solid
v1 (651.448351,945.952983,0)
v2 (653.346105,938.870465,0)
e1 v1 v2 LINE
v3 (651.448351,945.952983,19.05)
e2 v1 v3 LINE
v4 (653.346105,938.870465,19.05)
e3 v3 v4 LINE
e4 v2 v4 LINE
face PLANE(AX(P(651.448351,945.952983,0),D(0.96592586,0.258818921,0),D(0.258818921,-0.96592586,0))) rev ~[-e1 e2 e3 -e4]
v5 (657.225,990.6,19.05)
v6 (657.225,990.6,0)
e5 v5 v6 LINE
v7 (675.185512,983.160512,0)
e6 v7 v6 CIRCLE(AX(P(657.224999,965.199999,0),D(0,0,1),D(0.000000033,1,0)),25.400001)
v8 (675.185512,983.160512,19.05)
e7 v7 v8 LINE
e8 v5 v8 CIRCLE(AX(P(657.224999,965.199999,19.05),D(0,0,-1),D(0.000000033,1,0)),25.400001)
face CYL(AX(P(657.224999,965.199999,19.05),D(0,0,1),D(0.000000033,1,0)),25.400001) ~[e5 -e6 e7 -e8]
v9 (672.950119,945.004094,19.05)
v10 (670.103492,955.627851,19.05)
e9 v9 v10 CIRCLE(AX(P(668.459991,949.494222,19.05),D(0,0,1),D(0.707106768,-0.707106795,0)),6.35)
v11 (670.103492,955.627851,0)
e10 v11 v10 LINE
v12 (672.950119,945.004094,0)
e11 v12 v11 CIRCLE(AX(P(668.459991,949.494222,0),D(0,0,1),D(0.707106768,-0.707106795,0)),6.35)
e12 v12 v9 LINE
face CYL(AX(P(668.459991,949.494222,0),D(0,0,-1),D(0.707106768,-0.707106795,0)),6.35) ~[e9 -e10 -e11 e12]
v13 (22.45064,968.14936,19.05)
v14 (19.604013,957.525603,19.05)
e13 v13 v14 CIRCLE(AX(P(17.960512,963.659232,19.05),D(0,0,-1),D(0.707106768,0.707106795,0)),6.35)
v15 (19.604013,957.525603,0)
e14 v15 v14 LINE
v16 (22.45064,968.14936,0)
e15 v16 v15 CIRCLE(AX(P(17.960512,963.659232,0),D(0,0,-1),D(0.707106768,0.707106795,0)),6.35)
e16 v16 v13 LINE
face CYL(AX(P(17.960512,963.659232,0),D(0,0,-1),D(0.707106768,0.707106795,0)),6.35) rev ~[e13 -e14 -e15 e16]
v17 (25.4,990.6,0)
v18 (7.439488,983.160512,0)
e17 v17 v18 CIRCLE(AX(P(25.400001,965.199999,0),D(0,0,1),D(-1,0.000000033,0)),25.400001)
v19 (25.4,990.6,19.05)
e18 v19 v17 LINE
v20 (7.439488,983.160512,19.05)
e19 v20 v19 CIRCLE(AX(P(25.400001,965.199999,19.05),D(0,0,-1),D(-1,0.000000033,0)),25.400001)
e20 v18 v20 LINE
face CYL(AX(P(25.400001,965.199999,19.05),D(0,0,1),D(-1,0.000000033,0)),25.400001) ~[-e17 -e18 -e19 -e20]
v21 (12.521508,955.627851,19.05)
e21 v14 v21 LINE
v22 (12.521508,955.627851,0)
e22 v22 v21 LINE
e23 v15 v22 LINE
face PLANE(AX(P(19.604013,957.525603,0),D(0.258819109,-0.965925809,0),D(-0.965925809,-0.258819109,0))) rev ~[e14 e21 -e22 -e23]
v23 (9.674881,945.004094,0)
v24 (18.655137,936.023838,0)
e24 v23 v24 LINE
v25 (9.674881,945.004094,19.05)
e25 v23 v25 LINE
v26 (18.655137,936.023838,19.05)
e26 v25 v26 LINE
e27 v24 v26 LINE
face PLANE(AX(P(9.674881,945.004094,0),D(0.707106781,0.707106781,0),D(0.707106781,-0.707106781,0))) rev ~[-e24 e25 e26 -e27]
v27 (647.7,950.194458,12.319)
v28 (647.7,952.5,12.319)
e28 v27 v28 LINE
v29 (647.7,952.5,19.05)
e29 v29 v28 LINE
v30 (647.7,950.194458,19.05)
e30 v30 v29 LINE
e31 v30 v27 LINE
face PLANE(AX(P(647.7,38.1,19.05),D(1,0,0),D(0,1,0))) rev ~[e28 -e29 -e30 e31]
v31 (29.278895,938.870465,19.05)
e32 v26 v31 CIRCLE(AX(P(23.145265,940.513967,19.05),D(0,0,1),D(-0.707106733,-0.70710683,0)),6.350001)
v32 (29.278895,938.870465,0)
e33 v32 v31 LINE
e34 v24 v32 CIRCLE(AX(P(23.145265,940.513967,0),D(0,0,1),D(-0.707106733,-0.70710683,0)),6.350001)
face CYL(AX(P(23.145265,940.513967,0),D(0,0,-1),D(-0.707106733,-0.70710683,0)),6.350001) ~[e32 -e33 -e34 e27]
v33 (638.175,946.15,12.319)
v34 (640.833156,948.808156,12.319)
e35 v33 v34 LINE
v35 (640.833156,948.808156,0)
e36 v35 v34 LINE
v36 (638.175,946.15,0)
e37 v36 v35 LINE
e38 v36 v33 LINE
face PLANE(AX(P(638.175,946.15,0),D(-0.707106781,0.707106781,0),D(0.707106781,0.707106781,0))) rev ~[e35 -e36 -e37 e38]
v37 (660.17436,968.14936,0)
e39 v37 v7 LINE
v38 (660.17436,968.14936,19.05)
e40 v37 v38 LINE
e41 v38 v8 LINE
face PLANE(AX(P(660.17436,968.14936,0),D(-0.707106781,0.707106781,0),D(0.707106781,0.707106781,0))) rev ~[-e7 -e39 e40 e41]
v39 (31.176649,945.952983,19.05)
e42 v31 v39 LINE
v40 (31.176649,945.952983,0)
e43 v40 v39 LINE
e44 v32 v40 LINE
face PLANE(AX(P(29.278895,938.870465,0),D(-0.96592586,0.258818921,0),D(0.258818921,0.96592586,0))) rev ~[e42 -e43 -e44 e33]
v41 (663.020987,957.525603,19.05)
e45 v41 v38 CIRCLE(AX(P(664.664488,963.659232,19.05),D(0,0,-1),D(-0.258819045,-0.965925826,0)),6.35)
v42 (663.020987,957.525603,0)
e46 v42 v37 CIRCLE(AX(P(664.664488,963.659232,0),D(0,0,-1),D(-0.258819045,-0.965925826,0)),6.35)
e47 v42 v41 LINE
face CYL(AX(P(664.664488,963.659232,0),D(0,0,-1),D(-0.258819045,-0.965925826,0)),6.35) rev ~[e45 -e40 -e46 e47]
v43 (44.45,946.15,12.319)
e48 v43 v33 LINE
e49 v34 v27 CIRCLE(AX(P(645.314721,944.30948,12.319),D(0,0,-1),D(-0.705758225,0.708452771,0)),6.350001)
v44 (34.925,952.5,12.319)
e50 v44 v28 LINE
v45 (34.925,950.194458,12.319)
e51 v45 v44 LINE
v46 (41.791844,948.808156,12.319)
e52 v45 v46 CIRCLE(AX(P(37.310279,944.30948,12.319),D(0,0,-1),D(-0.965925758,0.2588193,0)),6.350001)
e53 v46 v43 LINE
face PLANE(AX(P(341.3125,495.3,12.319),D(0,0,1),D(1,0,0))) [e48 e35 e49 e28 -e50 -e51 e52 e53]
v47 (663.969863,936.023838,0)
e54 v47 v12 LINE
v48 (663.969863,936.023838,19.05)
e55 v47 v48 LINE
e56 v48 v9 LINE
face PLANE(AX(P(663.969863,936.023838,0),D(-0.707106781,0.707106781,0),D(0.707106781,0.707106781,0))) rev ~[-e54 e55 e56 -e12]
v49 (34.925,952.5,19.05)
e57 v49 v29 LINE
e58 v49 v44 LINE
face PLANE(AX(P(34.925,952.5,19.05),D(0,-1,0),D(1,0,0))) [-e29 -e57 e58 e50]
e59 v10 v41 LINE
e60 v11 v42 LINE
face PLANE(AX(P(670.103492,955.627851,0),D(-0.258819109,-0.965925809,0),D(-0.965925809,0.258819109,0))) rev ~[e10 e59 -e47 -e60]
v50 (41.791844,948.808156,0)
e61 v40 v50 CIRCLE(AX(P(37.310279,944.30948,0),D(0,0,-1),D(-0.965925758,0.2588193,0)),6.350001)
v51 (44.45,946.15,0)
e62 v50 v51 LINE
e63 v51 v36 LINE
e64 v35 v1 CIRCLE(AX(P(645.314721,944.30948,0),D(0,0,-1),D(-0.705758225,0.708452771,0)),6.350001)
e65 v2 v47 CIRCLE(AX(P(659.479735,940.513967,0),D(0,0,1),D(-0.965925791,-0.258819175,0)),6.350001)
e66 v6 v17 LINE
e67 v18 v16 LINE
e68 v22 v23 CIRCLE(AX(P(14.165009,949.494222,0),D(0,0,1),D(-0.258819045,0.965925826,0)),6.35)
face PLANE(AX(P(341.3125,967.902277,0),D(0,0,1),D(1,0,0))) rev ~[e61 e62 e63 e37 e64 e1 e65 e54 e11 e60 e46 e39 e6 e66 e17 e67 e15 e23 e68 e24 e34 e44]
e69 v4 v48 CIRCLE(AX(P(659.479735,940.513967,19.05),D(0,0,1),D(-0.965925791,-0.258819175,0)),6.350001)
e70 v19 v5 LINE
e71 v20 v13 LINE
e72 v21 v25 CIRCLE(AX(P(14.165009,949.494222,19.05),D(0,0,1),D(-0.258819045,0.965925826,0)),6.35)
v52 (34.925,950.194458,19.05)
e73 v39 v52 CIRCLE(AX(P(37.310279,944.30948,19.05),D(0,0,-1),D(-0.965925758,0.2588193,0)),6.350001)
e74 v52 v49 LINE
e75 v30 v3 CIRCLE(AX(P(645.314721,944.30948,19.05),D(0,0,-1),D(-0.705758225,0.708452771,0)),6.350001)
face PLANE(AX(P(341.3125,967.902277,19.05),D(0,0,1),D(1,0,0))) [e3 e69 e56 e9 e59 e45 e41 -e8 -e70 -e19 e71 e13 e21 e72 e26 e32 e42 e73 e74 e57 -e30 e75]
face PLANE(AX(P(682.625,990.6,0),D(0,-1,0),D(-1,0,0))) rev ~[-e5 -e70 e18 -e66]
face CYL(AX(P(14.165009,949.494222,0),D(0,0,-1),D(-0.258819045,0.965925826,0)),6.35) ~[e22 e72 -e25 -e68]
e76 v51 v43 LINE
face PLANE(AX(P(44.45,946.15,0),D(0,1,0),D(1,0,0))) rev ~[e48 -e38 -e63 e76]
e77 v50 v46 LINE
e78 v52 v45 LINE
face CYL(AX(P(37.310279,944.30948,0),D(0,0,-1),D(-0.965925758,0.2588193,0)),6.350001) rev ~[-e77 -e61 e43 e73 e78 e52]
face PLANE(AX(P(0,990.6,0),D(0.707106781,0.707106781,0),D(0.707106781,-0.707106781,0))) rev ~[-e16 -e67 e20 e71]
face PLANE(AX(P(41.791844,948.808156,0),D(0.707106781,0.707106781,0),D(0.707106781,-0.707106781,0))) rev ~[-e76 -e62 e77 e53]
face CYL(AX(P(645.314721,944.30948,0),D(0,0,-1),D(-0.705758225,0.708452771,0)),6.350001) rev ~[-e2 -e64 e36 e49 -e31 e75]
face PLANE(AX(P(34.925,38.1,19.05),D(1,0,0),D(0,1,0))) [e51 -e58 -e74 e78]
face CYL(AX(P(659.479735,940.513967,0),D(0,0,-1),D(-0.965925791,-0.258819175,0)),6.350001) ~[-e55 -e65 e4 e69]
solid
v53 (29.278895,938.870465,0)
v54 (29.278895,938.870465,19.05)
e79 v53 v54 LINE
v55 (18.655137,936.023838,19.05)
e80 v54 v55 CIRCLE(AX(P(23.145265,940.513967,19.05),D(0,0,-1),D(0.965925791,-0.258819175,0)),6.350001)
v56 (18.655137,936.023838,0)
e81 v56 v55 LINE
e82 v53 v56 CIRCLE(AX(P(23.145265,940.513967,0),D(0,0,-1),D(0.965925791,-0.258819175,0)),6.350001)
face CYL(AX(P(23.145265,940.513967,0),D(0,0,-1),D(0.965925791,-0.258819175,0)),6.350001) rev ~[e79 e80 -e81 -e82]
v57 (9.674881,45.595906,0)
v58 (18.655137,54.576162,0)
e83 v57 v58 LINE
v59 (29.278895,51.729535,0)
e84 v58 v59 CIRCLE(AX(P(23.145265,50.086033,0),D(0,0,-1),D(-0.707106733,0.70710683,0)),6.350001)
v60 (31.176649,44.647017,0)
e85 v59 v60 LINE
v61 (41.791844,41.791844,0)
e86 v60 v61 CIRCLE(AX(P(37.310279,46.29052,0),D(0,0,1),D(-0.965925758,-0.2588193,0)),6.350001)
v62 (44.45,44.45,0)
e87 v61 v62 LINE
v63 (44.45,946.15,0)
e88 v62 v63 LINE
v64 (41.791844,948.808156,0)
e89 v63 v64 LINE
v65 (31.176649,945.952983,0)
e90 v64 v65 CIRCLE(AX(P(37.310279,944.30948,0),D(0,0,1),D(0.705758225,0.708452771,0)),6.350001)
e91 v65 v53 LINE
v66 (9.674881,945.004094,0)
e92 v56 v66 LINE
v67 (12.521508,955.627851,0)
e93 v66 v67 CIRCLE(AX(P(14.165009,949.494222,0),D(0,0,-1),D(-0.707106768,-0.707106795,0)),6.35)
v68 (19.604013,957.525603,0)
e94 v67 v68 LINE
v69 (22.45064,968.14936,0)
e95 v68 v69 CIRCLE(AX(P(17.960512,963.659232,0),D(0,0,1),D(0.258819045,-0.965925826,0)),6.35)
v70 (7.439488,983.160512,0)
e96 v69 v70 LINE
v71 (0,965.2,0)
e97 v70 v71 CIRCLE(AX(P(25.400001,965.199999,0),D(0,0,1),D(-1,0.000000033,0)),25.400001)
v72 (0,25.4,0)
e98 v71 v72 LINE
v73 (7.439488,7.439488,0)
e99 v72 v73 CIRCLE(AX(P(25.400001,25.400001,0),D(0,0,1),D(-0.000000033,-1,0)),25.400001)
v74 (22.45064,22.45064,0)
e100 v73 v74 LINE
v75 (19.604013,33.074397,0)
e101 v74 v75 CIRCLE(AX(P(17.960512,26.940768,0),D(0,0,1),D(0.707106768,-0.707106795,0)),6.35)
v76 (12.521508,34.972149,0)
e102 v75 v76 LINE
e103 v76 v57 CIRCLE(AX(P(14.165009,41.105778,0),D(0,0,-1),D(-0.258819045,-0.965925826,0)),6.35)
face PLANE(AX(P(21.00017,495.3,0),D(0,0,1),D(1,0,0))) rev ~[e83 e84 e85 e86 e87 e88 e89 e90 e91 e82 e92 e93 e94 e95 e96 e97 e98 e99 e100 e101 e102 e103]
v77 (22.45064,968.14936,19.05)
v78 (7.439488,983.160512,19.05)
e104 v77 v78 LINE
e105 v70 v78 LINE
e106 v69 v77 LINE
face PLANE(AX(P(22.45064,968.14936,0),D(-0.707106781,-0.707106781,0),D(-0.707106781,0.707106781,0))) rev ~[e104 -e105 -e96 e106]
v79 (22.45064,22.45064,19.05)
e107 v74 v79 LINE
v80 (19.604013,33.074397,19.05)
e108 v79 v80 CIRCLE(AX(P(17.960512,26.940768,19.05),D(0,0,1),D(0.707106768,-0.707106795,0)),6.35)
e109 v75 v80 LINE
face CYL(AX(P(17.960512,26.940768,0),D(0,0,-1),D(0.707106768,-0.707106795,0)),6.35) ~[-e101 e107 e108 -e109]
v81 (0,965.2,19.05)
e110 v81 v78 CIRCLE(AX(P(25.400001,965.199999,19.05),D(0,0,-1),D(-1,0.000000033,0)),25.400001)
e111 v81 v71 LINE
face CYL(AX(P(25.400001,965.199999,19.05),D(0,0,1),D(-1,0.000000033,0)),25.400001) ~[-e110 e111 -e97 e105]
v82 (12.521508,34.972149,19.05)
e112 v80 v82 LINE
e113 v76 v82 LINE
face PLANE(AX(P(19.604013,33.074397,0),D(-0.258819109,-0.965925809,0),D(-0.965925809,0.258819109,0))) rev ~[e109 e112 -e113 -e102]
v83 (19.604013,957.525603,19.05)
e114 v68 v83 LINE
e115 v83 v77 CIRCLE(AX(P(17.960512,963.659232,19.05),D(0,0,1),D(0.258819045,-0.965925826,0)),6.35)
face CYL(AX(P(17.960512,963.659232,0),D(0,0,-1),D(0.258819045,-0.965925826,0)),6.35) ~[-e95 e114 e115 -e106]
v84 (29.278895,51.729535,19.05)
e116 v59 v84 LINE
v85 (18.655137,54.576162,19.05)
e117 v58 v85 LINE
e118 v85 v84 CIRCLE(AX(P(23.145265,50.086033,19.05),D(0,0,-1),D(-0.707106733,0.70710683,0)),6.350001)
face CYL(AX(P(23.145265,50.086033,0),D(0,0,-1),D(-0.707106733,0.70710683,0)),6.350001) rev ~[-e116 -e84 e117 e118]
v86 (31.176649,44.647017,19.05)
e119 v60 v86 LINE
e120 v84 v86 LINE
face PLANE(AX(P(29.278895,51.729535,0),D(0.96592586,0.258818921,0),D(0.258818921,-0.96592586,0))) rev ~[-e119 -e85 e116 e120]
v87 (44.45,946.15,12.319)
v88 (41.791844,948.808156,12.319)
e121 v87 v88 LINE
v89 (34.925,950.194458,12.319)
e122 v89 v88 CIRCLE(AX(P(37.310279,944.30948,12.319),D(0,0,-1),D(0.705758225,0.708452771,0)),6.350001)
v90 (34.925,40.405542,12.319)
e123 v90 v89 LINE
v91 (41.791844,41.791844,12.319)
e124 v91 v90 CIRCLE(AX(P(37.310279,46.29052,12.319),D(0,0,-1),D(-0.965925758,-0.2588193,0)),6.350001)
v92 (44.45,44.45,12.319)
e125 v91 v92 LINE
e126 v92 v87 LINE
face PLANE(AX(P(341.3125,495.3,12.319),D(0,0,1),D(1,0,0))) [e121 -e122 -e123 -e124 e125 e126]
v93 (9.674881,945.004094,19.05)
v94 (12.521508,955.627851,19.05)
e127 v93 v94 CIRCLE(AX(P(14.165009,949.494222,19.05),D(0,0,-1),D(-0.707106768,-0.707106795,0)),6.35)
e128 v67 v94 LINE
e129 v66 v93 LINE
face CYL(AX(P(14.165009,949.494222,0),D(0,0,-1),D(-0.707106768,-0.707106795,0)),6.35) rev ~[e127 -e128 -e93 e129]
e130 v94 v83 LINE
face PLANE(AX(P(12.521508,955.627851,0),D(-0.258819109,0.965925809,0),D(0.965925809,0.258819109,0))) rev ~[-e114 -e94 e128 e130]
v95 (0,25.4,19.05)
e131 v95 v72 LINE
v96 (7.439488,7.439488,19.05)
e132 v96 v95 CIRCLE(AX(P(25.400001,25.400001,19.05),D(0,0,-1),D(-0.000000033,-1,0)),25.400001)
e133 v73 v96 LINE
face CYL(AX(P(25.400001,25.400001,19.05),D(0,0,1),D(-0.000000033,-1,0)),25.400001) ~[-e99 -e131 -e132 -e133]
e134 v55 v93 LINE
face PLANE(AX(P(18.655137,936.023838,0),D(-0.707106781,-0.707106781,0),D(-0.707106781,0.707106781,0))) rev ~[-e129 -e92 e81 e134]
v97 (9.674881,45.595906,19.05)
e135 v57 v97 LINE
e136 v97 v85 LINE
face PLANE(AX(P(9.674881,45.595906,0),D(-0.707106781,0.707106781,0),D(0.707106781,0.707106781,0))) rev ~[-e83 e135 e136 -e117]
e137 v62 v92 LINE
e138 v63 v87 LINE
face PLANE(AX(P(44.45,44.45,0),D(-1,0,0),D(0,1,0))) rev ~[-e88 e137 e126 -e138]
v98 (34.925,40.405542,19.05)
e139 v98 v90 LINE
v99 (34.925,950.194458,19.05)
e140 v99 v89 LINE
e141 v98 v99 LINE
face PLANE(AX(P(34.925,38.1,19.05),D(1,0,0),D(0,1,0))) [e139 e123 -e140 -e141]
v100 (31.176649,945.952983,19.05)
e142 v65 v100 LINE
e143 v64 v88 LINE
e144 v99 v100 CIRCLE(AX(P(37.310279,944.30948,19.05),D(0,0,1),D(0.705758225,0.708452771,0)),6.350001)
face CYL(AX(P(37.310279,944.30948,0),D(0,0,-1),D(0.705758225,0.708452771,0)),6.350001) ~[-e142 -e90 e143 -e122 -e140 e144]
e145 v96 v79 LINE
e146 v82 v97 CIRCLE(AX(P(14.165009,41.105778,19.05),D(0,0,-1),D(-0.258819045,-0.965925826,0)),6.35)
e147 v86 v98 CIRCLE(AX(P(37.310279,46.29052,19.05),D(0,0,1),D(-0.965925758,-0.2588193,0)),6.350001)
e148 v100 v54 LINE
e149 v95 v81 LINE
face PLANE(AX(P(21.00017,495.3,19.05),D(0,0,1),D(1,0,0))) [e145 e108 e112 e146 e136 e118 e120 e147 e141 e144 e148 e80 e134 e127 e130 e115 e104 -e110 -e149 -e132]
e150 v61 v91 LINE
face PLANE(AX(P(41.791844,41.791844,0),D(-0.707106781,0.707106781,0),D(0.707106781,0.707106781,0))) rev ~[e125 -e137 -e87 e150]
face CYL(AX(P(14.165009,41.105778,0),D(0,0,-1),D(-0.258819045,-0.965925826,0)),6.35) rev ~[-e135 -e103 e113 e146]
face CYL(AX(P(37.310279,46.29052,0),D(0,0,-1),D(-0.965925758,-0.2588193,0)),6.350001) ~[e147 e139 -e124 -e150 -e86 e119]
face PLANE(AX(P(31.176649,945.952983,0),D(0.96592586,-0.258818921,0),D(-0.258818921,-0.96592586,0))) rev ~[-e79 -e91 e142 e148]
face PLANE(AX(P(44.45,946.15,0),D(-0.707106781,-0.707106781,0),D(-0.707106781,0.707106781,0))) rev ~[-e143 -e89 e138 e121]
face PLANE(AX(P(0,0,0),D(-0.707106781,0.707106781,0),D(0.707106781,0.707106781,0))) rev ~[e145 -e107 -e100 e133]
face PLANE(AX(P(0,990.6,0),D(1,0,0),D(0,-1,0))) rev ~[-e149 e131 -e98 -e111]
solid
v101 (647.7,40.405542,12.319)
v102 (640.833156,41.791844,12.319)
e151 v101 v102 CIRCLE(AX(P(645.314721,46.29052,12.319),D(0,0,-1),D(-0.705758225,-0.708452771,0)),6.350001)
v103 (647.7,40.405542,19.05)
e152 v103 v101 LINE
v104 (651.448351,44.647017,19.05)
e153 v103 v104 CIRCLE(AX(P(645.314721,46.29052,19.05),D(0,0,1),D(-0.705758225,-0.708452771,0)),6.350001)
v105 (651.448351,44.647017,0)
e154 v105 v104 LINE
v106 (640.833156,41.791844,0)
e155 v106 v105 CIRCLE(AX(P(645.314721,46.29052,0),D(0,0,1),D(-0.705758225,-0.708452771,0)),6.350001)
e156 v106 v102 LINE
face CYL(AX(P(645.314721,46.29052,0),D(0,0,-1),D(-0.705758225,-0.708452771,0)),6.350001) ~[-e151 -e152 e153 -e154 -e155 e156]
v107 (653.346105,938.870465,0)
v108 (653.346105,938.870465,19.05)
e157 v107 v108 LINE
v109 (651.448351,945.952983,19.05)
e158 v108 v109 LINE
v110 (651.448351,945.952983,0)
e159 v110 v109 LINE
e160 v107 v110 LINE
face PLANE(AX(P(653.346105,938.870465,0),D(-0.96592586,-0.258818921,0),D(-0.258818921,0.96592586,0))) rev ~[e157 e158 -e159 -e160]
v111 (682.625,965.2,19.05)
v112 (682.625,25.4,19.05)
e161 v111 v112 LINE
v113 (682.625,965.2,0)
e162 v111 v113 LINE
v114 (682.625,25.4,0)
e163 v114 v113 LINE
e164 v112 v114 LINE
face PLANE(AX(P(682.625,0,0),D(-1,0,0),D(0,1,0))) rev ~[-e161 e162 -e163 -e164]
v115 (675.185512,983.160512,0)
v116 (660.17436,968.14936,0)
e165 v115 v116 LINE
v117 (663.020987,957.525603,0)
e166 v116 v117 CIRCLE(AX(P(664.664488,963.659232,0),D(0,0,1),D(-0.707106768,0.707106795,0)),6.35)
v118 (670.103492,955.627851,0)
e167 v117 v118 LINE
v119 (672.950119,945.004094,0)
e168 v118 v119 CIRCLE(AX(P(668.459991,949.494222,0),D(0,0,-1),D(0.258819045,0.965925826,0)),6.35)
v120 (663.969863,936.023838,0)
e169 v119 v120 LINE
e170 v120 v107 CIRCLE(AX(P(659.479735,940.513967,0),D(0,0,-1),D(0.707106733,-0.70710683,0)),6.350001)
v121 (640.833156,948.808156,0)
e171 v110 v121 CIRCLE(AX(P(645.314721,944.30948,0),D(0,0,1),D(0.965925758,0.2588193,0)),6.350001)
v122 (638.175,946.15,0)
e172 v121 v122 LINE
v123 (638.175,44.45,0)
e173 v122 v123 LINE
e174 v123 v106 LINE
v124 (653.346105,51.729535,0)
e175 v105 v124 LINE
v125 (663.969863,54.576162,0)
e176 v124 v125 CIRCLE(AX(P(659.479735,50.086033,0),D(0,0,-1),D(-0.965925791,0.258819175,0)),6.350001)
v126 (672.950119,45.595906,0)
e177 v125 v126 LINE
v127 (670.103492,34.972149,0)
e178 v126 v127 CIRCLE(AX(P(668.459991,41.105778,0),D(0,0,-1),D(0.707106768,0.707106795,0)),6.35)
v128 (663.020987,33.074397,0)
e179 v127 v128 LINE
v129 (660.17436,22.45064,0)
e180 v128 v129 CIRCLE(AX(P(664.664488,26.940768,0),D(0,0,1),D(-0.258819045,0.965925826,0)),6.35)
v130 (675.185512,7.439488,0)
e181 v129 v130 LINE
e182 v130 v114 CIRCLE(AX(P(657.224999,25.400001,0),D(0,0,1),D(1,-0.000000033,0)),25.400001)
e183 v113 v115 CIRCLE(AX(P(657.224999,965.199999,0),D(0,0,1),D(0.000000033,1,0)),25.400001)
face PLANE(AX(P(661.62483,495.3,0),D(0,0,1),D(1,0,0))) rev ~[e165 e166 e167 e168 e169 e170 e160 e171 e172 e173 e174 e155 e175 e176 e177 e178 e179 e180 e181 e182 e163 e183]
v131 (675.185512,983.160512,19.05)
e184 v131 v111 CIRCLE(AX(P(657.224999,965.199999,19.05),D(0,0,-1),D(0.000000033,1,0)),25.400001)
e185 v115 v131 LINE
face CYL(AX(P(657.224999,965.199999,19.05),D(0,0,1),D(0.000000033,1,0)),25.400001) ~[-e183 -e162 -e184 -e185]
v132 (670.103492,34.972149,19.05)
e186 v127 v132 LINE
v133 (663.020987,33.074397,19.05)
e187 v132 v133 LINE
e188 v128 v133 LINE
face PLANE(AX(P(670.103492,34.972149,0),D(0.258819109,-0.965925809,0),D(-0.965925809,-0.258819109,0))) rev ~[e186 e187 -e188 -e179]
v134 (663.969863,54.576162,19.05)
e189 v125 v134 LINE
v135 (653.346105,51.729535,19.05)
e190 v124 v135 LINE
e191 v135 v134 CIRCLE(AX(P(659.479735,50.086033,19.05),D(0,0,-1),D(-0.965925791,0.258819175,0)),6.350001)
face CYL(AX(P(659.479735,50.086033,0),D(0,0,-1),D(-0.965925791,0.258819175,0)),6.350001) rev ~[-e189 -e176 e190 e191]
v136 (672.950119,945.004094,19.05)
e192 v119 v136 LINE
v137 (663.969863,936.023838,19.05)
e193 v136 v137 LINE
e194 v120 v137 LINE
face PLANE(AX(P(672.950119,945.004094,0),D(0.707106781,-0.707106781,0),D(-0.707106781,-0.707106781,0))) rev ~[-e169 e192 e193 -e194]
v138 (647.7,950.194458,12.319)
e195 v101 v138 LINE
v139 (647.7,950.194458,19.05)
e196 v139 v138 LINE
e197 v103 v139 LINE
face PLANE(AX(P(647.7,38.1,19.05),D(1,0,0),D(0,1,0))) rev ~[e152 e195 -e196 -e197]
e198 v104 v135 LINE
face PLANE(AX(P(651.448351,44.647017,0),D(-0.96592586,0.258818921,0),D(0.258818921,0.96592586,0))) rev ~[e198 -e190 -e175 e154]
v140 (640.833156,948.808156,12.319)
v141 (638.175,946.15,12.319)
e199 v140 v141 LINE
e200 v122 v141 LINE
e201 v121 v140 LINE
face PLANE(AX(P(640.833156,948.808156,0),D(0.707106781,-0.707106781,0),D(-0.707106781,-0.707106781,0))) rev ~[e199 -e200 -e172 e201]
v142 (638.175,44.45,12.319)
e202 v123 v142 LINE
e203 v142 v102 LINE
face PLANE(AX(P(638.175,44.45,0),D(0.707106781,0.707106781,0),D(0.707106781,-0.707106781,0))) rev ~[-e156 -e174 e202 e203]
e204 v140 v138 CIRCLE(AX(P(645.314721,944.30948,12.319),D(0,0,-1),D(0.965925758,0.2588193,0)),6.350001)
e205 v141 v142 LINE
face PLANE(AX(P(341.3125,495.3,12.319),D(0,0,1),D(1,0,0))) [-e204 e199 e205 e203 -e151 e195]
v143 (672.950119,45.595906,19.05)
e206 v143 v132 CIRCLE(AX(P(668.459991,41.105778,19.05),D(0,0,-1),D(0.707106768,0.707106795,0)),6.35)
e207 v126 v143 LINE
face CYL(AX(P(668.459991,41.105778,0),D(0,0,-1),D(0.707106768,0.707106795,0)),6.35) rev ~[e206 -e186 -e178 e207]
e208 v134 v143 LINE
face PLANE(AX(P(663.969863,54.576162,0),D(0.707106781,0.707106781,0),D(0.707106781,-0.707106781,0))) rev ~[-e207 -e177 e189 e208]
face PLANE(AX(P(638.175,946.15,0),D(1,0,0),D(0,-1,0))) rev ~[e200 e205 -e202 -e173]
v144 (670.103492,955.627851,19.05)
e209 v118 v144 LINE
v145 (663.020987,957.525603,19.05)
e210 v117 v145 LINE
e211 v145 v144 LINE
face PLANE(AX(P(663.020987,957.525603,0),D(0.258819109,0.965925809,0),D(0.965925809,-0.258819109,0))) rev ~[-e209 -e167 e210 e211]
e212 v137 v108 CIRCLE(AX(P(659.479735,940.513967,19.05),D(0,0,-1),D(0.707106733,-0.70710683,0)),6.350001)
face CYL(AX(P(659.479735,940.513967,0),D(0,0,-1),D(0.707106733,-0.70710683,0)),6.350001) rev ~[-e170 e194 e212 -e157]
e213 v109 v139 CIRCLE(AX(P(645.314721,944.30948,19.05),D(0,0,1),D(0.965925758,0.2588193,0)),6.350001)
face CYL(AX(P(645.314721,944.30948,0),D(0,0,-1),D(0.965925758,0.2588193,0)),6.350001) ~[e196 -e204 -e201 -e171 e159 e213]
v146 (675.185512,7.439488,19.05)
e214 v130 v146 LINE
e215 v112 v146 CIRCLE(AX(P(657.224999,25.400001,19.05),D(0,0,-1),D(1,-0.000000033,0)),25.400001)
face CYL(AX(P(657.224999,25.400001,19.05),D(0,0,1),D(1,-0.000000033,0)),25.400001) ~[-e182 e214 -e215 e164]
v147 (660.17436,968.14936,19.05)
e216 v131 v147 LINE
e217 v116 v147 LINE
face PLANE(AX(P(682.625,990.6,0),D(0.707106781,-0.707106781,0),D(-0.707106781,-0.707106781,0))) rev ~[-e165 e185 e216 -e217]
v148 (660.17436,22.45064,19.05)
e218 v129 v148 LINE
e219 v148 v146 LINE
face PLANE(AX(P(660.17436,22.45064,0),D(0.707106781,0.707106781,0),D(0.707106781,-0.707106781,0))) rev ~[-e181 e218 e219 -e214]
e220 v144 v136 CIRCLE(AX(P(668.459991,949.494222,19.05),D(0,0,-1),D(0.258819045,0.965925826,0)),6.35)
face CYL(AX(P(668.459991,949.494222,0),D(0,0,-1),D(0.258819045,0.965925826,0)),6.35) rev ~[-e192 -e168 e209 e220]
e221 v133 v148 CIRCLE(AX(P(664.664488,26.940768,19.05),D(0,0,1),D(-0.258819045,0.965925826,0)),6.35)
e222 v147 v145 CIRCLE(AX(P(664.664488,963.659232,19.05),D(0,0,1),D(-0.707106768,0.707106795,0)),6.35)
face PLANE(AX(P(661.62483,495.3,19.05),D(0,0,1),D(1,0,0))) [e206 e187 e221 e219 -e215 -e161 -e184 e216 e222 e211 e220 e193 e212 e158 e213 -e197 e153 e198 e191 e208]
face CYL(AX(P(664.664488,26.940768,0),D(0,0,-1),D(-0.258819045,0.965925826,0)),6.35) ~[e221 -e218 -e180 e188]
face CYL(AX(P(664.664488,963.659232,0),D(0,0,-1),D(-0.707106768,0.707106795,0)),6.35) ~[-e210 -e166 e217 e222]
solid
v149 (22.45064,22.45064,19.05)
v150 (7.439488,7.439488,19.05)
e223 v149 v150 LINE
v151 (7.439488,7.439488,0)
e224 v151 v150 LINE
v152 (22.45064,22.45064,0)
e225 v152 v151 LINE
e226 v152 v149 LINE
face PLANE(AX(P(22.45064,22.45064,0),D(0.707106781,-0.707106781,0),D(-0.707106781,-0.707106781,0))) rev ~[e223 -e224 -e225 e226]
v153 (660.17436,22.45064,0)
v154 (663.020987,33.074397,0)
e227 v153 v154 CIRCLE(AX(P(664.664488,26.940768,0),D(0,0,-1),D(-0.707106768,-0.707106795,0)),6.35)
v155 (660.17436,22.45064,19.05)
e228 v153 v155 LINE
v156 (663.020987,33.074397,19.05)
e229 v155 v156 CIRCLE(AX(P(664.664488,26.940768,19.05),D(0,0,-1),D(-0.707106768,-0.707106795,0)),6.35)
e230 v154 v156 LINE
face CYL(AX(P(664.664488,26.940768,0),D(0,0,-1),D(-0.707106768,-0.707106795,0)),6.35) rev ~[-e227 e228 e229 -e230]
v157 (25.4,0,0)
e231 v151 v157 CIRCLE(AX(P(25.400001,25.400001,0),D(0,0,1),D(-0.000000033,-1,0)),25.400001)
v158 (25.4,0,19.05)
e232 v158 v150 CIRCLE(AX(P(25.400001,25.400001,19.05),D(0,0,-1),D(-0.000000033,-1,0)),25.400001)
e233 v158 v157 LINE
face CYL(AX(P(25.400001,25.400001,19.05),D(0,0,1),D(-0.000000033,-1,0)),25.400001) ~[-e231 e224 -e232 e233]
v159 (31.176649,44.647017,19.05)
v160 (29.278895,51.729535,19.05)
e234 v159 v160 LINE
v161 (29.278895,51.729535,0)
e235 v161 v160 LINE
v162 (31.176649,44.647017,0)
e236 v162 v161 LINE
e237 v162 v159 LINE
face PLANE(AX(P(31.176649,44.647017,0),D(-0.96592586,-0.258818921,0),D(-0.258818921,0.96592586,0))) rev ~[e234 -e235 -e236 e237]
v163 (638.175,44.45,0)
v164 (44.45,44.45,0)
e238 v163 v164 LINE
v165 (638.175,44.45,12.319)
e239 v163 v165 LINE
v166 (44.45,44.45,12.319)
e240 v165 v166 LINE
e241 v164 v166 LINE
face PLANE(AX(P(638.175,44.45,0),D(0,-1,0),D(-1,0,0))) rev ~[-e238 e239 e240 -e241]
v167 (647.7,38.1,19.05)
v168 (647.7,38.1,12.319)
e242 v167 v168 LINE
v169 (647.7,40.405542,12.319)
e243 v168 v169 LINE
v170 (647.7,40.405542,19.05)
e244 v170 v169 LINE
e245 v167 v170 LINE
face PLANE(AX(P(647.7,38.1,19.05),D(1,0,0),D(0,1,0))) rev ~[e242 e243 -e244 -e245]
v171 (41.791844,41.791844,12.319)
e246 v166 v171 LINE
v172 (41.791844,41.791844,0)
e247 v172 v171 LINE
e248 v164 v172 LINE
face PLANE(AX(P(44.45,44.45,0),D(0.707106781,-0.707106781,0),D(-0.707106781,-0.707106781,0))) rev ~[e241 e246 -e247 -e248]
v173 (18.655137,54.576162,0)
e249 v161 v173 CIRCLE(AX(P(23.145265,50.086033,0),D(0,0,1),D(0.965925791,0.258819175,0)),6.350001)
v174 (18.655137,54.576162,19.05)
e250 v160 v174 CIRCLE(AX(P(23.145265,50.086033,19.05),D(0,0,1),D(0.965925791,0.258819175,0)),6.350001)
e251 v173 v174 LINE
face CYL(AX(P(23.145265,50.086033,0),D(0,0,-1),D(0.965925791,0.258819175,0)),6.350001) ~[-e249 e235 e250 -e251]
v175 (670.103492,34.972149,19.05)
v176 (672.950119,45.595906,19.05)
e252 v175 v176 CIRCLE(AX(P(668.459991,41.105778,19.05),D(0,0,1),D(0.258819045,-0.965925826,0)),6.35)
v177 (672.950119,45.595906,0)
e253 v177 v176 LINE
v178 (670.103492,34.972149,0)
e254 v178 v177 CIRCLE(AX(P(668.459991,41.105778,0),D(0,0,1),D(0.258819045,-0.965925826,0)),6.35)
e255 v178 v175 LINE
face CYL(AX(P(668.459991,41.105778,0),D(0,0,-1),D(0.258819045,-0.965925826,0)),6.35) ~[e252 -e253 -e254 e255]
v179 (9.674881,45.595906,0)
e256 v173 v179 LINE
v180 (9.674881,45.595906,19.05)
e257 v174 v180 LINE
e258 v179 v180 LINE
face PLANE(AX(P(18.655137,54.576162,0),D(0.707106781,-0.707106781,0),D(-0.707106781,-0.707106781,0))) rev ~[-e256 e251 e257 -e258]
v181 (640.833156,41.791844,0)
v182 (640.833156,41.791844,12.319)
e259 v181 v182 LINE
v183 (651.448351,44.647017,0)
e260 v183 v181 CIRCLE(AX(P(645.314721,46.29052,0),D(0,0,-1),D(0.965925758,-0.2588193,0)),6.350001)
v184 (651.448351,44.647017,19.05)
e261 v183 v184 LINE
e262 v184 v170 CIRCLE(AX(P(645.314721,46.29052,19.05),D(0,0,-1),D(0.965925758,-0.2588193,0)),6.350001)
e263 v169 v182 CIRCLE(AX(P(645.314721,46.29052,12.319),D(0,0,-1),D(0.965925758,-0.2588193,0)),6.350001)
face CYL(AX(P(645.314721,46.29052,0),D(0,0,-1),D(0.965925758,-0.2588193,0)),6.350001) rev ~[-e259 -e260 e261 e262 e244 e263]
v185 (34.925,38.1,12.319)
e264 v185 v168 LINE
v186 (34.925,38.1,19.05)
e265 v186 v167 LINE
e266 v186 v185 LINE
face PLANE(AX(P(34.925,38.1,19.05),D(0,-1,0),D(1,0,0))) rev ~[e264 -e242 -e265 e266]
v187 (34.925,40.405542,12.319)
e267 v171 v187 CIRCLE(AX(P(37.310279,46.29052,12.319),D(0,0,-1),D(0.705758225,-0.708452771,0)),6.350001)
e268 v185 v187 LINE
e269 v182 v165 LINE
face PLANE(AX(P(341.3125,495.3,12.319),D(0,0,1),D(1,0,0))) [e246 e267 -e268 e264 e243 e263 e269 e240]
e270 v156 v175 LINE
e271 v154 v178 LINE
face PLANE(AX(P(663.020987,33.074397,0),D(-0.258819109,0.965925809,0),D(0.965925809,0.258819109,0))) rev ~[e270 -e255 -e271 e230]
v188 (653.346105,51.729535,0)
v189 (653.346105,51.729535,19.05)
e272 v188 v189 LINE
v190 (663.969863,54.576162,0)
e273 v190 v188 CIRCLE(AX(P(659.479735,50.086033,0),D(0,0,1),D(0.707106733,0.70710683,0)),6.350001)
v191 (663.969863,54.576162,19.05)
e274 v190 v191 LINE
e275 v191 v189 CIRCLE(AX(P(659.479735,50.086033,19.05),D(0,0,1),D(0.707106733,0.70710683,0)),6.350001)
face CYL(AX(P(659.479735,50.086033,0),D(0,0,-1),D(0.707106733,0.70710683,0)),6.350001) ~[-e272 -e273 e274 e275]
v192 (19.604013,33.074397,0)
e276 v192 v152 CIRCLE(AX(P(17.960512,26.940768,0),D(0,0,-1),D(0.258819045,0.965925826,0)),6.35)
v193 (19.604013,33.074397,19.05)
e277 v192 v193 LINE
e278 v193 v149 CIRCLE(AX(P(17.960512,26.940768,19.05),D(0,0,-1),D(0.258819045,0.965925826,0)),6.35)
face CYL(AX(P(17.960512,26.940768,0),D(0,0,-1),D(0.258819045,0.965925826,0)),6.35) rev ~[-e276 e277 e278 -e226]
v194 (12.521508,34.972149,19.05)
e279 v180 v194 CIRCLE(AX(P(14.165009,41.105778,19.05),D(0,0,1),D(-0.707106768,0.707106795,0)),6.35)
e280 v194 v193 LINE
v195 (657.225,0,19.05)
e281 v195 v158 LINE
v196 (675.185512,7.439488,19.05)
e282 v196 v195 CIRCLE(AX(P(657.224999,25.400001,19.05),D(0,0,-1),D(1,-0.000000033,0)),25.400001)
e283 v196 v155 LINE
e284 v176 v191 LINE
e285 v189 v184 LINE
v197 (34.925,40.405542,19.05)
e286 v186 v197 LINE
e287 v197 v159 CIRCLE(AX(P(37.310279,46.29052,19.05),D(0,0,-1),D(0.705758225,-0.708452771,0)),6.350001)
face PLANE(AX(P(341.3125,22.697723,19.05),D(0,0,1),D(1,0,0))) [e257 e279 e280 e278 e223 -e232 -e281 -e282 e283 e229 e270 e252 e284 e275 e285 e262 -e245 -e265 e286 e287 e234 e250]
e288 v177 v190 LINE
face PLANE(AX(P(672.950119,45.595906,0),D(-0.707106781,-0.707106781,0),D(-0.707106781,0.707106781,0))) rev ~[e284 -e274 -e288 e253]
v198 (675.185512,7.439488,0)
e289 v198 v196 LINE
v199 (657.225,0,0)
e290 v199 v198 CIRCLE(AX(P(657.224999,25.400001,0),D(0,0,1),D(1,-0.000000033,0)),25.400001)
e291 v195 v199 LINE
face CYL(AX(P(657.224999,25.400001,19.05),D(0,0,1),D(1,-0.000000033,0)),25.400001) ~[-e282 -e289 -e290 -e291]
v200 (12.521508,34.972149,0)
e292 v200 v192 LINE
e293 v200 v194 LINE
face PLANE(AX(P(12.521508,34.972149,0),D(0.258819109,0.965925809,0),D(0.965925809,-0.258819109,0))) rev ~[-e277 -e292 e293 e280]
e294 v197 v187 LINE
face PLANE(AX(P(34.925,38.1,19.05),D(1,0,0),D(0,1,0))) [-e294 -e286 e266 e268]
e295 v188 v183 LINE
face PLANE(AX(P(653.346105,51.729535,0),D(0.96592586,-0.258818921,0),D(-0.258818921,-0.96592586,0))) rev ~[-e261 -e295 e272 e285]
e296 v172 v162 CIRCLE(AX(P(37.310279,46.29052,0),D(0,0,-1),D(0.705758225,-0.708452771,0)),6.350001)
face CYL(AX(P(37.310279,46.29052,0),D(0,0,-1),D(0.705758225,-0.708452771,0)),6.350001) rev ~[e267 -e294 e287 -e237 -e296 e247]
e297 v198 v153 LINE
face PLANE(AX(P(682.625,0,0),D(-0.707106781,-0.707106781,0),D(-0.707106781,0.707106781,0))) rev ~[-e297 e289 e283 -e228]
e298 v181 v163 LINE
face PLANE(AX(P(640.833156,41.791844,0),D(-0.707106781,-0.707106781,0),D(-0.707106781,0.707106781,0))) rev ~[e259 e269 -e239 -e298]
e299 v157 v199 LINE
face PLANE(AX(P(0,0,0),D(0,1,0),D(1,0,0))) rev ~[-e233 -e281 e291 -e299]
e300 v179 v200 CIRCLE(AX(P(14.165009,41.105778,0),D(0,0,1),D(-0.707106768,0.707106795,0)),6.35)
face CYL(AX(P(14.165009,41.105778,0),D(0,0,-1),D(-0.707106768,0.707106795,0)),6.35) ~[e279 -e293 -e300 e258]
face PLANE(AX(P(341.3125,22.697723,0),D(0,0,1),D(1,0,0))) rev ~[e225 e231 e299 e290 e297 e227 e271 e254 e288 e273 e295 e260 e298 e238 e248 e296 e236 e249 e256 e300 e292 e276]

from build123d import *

# Parameters (mm, degrees)
F1_DEPTH = 19.05
F3_DEPTH = 19.05
F4_W     = 612.775
F4_H     = 914.4
F5_DEPTH = 6.731
F6_W     = 1157.532364
F6_H     = 1425.050989
F7_DEPTH = 25.4


with BuildPart() as f1:
    # F0 (on Top) → F1 (new body)
    with BuildSketch(Plane.XY):
        with BuildLine():
            Line((22.45064, 22.45064), (0, 0))
            Line((0, 0), (682.625, 0))
            Line((682.625, 0), (660.17436, 22.45064))
            ThreePointArc((660.17436, 22.45064), (658.530859, 28.584269), (663.020987, 33.074397))
            Line((663.020987, 33.074397), (670.103492, 34.972149))
            ThreePointArc((670.103492, 34.972149), (674.59362, 39.462277), (672.950119, 45.595906))
            Line((672.950119, 45.595906), (663.969863, 54.576162))
            ThreePointArc((663.969863, 54.576162), (657.836234, 56.219663), (653.346105, 51.729535))
            Line((653.346105, 51.729535), (651.448351, 44.647017))
            ThreePointArc((651.448351, 44.647017), (646.964064, 40.158458), (640.833156, 41.791844))
            Line((640.833156, 41.791844), (638.175, 44.45))
            Line((638.175, 44.45), (44.45, 44.45))
            Line((44.45, 44.45), (41.791844, 41.791844))
            ThreePointArc((41.791844, 41.791844), (35.660936, 40.158458), (31.176649, 44.647017))
            Line((31.176649, 44.647017), (29.278895, 51.729535))
            ThreePointArc((29.278895, 51.729535), (24.788766, 56.219663), (18.655137, 54.576162))
            Line((18.655137, 54.576162), (9.674881, 45.595906))
            ThreePointArc((9.674881, 45.595906), (8.03138, 39.462277), (12.521508, 34.972149))
            Line((12.521508, 34.972149), (19.604013, 33.074397))
            ThreePointArc((19.604013, 33.074397), (24.094141, 28.584269), (22.45064, 22.45064))
        make_face()
        with BuildLine():
            Line((29.278895, 938.870465), (31.176649, 945.952983))
            ThreePointArc((31.176649, 945.952983), (35.660936, 950.441542), (41.791844, 948.808156))
            Line((41.791844, 948.808156), (44.45, 946.15))
            Line((44.45, 946.15), (638.175, 946.15))
            Line((638.175, 946.15), (640.833156, 948.808156))
            ThreePointArc((640.833156, 948.808156), (646.964064, 950.441542), (651.448351, 945.952983))
            Line((651.448351, 945.952983), (653.346105, 938.870465))
            ThreePointArc((653.346105, 938.870465), (657.836234, 934.380337), (663.969863, 936.023838))
            Line((663.969863, 936.023838), (672.950119, 945.004094))
            ThreePointArc((672.950119, 945.004094), (674.59362, 951.137723), (670.103492, 955.627851))
            Line((670.103492, 955.627851), (663.020987, 957.525603))
            ThreePointArc((663.020987, 957.525603), (658.530859, 962.015731), (660.17436, 968.14936))
            Line((660.17436, 968.14936), (682.625, 990.6))
            Line((682.625, 990.6), (0, 990.6))
            Line((0, 990.6), (22.45064, 968.14936))
            ThreePointArc((22.45064, 968.14936), (24.094141, 962.015731), (19.604013, 957.525603))
            Line((19.604013, 957.525603), (12.521508, 955.627851))
            ThreePointArc((12.521508, 955.627851), (8.03138, 951.137723), (9.674881, 945.004094))
            Line((9.674881, 945.004094), (18.655137, 936.023838))
            ThreePointArc((18.655137, 936.023838), (24.788766, 934.380337), (29.278895, 938.870465))
        make_face()
    extrude(amount=F1_DEPTH)


with BuildPart() as f3:
    # F2 (on Top) → F3 (new body)
    with BuildSketch(Plane.XY):
        with BuildLine():
            Line((0, 990.6), (0, 0))
            Line((0, 0), (22.45064, 22.45064))
            ThreePointArc((22.45064, 22.45064), (24.094141, 28.584269), (19.604013, 33.074397))
            Line((19.604013, 33.074397), (12.521508, 34.972149))
            ThreePointArc((12.521508, 34.972149), (8.03138, 39.462277), (9.674881, 45.595906))
            Line((9.674881, 45.595906), (18.655137, 54.576162))
            ThreePointArc((18.655137, 54.576162), (24.788766, 56.219663), (29.278895, 51.729535))
            Line((29.278895, 51.729535), (31.176649, 44.647017))
            ThreePointArc((31.176649, 44.647017), (35.660936, 40.158458), (41.791844, 41.791844))
            Line((41.791844, 41.791844), (44.45, 44.45))
            Line((44.45, 44.45), (44.45, 946.15))
            Line((44.45, 946.15), (41.791844, 948.808156))
            ThreePointArc((41.791844, 948.808156), (35.660936, 950.441542), (31.176649, 945.952983))
            Line((31.176649, 945.952983), (29.278895, 938.870465))
            ThreePointArc((29.278895, 938.870465), (24.788766, 934.380337), (18.655137, 936.023838))
            Line((18.655137, 936.023838), (9.674881, 945.004094))
            ThreePointArc((9.674881, 945.004094), (8.03138, 951.137723), (12.521508, 955.627851))
            Line((12.521508, 955.627851), (19.604013, 957.525603))
            ThreePointArc((19.604013, 957.525603), (24.094141, 962.015731), (22.45064, 968.14936))
            Line((22.45064, 968.14936), (0, 990.6))
        make_face()
        with BuildLine():
            Line((653.346105, 938.870465), (651.448351, 945.952983))
            ThreePointArc((651.448351, 945.952983), (646.964064, 950.441542), (640.833156, 948.808156))
            Line((640.833156, 948.808156), (638.175, 946.15))
            Line((638.175, 946.15), (638.175, 44.45))
            Line((638.175, 44.45), (640.833156, 41.791844))
            ThreePointArc((640.833156, 41.791844), (646.964064, 40.158458), (651.448351, 44.647017))
            Line((651.448351, 44.647017), (653.346105, 51.729535))
            ThreePointArc((653.346105, 51.729535), (657.836234, 56.219663), (663.969863, 54.576162))
            Line((663.969863, 54.576162), (672.950119, 45.595906))
            ThreePointArc((672.950119, 45.595906), (674.59362, 39.462277), (670.103492, 34.972149))
            Line((670.103492, 34.972149), (663.020987, 33.074397))
            ThreePointArc((663.020987, 33.074397), (658.530859, 28.584269), (660.17436, 22.45064))
            Line((660.17436, 22.45064), (682.625, 0))
            Line((682.625, 0), (682.625, 990.6))
            Line((682.625, 990.6), (660.17436, 968.14936))
            ThreePointArc((660.17436, 968.14936), (658.530859, 962.015731), (663.020987, 957.525603))
            Line((663.020987, 957.525603), (670.103492, 955.627851))
            ThreePointArc((670.103492, 955.627851), (674.59362, 951.137723), (672.950119, 945.004094))
            Line((672.950119, 945.004094), (663.969863, 936.023838))
            ThreePointArc((663.969863, 936.023838), (657.836234, 934.380337), (653.346105, 938.870465))
        make_face()
    extrude(amount=F3_DEPTH)


with BuildPart() as f5_tool:
    # F4 (on face) → F5 (new body)
    with BuildSketch(Plane.XY.offset(19.05)):
        with Locations((341.3125, 495.3)):
            Rectangle(F4_W, F4_H)
    extrude(amount=-F5_DEPTH)


with BuildPart() as f1_1:
    add(f1.part)

    # F5: cut by f5_tool
    add(f5_tool.part, mode=Mode.SUBTRACT)


with BuildPart() as f3_1:
    add(f3.part)

    # F5: cut by f5_tool
    add(f5_tool.part, mode=Mode.SUBTRACT)


with BuildPart() as f7_tool:
    # F6 (on face) → F7 (new body)
    with BuildSketch(Plane.XY.offset(19.05)):
        with Locations((321.719572, 495.283834)):
            Rectangle(F6_W, F6_H)
        with BuildLine():
            ThreePointArc((25.4, 0), (7.439488, 7.439488), (0, 25.4))
            Line((0, 25.4), (0, 965.2))
            ThreePointArc((0, 965.2), (7.439488, 983.160512), (25.4, 990.6))
            Line((25.4, 990.6), (657.225, 990.6))
            ThreePointArc((657.225, 990.6), (675.185512, 983.160512), (682.625, 965.2))
            Line((682.625, 965.2), (682.625, 25.4))
            ThreePointArc((682.625, 25.4), (675.185512, 7.439488), (657.225, 0))
            Line((657.225, 0), (25.4, 0))
        make_face(mode=Mode.SUBTRACT)
    extrude(amount=-F7_DEPTH)


with BuildPart() as f1_2:
    add(f1_1.part)

    # F7: cut by f7_tool
    add(f7_tool.part, mode=Mode.SUBTRACT)


with BuildPart() as f3_2:
    add(f3_1.part)

    # F7: cut by f7_tool
    add(f7_tool.part, mode=Mode.SUBTRACT)


solid = Compound([f1_2.part, f3_2.part])
